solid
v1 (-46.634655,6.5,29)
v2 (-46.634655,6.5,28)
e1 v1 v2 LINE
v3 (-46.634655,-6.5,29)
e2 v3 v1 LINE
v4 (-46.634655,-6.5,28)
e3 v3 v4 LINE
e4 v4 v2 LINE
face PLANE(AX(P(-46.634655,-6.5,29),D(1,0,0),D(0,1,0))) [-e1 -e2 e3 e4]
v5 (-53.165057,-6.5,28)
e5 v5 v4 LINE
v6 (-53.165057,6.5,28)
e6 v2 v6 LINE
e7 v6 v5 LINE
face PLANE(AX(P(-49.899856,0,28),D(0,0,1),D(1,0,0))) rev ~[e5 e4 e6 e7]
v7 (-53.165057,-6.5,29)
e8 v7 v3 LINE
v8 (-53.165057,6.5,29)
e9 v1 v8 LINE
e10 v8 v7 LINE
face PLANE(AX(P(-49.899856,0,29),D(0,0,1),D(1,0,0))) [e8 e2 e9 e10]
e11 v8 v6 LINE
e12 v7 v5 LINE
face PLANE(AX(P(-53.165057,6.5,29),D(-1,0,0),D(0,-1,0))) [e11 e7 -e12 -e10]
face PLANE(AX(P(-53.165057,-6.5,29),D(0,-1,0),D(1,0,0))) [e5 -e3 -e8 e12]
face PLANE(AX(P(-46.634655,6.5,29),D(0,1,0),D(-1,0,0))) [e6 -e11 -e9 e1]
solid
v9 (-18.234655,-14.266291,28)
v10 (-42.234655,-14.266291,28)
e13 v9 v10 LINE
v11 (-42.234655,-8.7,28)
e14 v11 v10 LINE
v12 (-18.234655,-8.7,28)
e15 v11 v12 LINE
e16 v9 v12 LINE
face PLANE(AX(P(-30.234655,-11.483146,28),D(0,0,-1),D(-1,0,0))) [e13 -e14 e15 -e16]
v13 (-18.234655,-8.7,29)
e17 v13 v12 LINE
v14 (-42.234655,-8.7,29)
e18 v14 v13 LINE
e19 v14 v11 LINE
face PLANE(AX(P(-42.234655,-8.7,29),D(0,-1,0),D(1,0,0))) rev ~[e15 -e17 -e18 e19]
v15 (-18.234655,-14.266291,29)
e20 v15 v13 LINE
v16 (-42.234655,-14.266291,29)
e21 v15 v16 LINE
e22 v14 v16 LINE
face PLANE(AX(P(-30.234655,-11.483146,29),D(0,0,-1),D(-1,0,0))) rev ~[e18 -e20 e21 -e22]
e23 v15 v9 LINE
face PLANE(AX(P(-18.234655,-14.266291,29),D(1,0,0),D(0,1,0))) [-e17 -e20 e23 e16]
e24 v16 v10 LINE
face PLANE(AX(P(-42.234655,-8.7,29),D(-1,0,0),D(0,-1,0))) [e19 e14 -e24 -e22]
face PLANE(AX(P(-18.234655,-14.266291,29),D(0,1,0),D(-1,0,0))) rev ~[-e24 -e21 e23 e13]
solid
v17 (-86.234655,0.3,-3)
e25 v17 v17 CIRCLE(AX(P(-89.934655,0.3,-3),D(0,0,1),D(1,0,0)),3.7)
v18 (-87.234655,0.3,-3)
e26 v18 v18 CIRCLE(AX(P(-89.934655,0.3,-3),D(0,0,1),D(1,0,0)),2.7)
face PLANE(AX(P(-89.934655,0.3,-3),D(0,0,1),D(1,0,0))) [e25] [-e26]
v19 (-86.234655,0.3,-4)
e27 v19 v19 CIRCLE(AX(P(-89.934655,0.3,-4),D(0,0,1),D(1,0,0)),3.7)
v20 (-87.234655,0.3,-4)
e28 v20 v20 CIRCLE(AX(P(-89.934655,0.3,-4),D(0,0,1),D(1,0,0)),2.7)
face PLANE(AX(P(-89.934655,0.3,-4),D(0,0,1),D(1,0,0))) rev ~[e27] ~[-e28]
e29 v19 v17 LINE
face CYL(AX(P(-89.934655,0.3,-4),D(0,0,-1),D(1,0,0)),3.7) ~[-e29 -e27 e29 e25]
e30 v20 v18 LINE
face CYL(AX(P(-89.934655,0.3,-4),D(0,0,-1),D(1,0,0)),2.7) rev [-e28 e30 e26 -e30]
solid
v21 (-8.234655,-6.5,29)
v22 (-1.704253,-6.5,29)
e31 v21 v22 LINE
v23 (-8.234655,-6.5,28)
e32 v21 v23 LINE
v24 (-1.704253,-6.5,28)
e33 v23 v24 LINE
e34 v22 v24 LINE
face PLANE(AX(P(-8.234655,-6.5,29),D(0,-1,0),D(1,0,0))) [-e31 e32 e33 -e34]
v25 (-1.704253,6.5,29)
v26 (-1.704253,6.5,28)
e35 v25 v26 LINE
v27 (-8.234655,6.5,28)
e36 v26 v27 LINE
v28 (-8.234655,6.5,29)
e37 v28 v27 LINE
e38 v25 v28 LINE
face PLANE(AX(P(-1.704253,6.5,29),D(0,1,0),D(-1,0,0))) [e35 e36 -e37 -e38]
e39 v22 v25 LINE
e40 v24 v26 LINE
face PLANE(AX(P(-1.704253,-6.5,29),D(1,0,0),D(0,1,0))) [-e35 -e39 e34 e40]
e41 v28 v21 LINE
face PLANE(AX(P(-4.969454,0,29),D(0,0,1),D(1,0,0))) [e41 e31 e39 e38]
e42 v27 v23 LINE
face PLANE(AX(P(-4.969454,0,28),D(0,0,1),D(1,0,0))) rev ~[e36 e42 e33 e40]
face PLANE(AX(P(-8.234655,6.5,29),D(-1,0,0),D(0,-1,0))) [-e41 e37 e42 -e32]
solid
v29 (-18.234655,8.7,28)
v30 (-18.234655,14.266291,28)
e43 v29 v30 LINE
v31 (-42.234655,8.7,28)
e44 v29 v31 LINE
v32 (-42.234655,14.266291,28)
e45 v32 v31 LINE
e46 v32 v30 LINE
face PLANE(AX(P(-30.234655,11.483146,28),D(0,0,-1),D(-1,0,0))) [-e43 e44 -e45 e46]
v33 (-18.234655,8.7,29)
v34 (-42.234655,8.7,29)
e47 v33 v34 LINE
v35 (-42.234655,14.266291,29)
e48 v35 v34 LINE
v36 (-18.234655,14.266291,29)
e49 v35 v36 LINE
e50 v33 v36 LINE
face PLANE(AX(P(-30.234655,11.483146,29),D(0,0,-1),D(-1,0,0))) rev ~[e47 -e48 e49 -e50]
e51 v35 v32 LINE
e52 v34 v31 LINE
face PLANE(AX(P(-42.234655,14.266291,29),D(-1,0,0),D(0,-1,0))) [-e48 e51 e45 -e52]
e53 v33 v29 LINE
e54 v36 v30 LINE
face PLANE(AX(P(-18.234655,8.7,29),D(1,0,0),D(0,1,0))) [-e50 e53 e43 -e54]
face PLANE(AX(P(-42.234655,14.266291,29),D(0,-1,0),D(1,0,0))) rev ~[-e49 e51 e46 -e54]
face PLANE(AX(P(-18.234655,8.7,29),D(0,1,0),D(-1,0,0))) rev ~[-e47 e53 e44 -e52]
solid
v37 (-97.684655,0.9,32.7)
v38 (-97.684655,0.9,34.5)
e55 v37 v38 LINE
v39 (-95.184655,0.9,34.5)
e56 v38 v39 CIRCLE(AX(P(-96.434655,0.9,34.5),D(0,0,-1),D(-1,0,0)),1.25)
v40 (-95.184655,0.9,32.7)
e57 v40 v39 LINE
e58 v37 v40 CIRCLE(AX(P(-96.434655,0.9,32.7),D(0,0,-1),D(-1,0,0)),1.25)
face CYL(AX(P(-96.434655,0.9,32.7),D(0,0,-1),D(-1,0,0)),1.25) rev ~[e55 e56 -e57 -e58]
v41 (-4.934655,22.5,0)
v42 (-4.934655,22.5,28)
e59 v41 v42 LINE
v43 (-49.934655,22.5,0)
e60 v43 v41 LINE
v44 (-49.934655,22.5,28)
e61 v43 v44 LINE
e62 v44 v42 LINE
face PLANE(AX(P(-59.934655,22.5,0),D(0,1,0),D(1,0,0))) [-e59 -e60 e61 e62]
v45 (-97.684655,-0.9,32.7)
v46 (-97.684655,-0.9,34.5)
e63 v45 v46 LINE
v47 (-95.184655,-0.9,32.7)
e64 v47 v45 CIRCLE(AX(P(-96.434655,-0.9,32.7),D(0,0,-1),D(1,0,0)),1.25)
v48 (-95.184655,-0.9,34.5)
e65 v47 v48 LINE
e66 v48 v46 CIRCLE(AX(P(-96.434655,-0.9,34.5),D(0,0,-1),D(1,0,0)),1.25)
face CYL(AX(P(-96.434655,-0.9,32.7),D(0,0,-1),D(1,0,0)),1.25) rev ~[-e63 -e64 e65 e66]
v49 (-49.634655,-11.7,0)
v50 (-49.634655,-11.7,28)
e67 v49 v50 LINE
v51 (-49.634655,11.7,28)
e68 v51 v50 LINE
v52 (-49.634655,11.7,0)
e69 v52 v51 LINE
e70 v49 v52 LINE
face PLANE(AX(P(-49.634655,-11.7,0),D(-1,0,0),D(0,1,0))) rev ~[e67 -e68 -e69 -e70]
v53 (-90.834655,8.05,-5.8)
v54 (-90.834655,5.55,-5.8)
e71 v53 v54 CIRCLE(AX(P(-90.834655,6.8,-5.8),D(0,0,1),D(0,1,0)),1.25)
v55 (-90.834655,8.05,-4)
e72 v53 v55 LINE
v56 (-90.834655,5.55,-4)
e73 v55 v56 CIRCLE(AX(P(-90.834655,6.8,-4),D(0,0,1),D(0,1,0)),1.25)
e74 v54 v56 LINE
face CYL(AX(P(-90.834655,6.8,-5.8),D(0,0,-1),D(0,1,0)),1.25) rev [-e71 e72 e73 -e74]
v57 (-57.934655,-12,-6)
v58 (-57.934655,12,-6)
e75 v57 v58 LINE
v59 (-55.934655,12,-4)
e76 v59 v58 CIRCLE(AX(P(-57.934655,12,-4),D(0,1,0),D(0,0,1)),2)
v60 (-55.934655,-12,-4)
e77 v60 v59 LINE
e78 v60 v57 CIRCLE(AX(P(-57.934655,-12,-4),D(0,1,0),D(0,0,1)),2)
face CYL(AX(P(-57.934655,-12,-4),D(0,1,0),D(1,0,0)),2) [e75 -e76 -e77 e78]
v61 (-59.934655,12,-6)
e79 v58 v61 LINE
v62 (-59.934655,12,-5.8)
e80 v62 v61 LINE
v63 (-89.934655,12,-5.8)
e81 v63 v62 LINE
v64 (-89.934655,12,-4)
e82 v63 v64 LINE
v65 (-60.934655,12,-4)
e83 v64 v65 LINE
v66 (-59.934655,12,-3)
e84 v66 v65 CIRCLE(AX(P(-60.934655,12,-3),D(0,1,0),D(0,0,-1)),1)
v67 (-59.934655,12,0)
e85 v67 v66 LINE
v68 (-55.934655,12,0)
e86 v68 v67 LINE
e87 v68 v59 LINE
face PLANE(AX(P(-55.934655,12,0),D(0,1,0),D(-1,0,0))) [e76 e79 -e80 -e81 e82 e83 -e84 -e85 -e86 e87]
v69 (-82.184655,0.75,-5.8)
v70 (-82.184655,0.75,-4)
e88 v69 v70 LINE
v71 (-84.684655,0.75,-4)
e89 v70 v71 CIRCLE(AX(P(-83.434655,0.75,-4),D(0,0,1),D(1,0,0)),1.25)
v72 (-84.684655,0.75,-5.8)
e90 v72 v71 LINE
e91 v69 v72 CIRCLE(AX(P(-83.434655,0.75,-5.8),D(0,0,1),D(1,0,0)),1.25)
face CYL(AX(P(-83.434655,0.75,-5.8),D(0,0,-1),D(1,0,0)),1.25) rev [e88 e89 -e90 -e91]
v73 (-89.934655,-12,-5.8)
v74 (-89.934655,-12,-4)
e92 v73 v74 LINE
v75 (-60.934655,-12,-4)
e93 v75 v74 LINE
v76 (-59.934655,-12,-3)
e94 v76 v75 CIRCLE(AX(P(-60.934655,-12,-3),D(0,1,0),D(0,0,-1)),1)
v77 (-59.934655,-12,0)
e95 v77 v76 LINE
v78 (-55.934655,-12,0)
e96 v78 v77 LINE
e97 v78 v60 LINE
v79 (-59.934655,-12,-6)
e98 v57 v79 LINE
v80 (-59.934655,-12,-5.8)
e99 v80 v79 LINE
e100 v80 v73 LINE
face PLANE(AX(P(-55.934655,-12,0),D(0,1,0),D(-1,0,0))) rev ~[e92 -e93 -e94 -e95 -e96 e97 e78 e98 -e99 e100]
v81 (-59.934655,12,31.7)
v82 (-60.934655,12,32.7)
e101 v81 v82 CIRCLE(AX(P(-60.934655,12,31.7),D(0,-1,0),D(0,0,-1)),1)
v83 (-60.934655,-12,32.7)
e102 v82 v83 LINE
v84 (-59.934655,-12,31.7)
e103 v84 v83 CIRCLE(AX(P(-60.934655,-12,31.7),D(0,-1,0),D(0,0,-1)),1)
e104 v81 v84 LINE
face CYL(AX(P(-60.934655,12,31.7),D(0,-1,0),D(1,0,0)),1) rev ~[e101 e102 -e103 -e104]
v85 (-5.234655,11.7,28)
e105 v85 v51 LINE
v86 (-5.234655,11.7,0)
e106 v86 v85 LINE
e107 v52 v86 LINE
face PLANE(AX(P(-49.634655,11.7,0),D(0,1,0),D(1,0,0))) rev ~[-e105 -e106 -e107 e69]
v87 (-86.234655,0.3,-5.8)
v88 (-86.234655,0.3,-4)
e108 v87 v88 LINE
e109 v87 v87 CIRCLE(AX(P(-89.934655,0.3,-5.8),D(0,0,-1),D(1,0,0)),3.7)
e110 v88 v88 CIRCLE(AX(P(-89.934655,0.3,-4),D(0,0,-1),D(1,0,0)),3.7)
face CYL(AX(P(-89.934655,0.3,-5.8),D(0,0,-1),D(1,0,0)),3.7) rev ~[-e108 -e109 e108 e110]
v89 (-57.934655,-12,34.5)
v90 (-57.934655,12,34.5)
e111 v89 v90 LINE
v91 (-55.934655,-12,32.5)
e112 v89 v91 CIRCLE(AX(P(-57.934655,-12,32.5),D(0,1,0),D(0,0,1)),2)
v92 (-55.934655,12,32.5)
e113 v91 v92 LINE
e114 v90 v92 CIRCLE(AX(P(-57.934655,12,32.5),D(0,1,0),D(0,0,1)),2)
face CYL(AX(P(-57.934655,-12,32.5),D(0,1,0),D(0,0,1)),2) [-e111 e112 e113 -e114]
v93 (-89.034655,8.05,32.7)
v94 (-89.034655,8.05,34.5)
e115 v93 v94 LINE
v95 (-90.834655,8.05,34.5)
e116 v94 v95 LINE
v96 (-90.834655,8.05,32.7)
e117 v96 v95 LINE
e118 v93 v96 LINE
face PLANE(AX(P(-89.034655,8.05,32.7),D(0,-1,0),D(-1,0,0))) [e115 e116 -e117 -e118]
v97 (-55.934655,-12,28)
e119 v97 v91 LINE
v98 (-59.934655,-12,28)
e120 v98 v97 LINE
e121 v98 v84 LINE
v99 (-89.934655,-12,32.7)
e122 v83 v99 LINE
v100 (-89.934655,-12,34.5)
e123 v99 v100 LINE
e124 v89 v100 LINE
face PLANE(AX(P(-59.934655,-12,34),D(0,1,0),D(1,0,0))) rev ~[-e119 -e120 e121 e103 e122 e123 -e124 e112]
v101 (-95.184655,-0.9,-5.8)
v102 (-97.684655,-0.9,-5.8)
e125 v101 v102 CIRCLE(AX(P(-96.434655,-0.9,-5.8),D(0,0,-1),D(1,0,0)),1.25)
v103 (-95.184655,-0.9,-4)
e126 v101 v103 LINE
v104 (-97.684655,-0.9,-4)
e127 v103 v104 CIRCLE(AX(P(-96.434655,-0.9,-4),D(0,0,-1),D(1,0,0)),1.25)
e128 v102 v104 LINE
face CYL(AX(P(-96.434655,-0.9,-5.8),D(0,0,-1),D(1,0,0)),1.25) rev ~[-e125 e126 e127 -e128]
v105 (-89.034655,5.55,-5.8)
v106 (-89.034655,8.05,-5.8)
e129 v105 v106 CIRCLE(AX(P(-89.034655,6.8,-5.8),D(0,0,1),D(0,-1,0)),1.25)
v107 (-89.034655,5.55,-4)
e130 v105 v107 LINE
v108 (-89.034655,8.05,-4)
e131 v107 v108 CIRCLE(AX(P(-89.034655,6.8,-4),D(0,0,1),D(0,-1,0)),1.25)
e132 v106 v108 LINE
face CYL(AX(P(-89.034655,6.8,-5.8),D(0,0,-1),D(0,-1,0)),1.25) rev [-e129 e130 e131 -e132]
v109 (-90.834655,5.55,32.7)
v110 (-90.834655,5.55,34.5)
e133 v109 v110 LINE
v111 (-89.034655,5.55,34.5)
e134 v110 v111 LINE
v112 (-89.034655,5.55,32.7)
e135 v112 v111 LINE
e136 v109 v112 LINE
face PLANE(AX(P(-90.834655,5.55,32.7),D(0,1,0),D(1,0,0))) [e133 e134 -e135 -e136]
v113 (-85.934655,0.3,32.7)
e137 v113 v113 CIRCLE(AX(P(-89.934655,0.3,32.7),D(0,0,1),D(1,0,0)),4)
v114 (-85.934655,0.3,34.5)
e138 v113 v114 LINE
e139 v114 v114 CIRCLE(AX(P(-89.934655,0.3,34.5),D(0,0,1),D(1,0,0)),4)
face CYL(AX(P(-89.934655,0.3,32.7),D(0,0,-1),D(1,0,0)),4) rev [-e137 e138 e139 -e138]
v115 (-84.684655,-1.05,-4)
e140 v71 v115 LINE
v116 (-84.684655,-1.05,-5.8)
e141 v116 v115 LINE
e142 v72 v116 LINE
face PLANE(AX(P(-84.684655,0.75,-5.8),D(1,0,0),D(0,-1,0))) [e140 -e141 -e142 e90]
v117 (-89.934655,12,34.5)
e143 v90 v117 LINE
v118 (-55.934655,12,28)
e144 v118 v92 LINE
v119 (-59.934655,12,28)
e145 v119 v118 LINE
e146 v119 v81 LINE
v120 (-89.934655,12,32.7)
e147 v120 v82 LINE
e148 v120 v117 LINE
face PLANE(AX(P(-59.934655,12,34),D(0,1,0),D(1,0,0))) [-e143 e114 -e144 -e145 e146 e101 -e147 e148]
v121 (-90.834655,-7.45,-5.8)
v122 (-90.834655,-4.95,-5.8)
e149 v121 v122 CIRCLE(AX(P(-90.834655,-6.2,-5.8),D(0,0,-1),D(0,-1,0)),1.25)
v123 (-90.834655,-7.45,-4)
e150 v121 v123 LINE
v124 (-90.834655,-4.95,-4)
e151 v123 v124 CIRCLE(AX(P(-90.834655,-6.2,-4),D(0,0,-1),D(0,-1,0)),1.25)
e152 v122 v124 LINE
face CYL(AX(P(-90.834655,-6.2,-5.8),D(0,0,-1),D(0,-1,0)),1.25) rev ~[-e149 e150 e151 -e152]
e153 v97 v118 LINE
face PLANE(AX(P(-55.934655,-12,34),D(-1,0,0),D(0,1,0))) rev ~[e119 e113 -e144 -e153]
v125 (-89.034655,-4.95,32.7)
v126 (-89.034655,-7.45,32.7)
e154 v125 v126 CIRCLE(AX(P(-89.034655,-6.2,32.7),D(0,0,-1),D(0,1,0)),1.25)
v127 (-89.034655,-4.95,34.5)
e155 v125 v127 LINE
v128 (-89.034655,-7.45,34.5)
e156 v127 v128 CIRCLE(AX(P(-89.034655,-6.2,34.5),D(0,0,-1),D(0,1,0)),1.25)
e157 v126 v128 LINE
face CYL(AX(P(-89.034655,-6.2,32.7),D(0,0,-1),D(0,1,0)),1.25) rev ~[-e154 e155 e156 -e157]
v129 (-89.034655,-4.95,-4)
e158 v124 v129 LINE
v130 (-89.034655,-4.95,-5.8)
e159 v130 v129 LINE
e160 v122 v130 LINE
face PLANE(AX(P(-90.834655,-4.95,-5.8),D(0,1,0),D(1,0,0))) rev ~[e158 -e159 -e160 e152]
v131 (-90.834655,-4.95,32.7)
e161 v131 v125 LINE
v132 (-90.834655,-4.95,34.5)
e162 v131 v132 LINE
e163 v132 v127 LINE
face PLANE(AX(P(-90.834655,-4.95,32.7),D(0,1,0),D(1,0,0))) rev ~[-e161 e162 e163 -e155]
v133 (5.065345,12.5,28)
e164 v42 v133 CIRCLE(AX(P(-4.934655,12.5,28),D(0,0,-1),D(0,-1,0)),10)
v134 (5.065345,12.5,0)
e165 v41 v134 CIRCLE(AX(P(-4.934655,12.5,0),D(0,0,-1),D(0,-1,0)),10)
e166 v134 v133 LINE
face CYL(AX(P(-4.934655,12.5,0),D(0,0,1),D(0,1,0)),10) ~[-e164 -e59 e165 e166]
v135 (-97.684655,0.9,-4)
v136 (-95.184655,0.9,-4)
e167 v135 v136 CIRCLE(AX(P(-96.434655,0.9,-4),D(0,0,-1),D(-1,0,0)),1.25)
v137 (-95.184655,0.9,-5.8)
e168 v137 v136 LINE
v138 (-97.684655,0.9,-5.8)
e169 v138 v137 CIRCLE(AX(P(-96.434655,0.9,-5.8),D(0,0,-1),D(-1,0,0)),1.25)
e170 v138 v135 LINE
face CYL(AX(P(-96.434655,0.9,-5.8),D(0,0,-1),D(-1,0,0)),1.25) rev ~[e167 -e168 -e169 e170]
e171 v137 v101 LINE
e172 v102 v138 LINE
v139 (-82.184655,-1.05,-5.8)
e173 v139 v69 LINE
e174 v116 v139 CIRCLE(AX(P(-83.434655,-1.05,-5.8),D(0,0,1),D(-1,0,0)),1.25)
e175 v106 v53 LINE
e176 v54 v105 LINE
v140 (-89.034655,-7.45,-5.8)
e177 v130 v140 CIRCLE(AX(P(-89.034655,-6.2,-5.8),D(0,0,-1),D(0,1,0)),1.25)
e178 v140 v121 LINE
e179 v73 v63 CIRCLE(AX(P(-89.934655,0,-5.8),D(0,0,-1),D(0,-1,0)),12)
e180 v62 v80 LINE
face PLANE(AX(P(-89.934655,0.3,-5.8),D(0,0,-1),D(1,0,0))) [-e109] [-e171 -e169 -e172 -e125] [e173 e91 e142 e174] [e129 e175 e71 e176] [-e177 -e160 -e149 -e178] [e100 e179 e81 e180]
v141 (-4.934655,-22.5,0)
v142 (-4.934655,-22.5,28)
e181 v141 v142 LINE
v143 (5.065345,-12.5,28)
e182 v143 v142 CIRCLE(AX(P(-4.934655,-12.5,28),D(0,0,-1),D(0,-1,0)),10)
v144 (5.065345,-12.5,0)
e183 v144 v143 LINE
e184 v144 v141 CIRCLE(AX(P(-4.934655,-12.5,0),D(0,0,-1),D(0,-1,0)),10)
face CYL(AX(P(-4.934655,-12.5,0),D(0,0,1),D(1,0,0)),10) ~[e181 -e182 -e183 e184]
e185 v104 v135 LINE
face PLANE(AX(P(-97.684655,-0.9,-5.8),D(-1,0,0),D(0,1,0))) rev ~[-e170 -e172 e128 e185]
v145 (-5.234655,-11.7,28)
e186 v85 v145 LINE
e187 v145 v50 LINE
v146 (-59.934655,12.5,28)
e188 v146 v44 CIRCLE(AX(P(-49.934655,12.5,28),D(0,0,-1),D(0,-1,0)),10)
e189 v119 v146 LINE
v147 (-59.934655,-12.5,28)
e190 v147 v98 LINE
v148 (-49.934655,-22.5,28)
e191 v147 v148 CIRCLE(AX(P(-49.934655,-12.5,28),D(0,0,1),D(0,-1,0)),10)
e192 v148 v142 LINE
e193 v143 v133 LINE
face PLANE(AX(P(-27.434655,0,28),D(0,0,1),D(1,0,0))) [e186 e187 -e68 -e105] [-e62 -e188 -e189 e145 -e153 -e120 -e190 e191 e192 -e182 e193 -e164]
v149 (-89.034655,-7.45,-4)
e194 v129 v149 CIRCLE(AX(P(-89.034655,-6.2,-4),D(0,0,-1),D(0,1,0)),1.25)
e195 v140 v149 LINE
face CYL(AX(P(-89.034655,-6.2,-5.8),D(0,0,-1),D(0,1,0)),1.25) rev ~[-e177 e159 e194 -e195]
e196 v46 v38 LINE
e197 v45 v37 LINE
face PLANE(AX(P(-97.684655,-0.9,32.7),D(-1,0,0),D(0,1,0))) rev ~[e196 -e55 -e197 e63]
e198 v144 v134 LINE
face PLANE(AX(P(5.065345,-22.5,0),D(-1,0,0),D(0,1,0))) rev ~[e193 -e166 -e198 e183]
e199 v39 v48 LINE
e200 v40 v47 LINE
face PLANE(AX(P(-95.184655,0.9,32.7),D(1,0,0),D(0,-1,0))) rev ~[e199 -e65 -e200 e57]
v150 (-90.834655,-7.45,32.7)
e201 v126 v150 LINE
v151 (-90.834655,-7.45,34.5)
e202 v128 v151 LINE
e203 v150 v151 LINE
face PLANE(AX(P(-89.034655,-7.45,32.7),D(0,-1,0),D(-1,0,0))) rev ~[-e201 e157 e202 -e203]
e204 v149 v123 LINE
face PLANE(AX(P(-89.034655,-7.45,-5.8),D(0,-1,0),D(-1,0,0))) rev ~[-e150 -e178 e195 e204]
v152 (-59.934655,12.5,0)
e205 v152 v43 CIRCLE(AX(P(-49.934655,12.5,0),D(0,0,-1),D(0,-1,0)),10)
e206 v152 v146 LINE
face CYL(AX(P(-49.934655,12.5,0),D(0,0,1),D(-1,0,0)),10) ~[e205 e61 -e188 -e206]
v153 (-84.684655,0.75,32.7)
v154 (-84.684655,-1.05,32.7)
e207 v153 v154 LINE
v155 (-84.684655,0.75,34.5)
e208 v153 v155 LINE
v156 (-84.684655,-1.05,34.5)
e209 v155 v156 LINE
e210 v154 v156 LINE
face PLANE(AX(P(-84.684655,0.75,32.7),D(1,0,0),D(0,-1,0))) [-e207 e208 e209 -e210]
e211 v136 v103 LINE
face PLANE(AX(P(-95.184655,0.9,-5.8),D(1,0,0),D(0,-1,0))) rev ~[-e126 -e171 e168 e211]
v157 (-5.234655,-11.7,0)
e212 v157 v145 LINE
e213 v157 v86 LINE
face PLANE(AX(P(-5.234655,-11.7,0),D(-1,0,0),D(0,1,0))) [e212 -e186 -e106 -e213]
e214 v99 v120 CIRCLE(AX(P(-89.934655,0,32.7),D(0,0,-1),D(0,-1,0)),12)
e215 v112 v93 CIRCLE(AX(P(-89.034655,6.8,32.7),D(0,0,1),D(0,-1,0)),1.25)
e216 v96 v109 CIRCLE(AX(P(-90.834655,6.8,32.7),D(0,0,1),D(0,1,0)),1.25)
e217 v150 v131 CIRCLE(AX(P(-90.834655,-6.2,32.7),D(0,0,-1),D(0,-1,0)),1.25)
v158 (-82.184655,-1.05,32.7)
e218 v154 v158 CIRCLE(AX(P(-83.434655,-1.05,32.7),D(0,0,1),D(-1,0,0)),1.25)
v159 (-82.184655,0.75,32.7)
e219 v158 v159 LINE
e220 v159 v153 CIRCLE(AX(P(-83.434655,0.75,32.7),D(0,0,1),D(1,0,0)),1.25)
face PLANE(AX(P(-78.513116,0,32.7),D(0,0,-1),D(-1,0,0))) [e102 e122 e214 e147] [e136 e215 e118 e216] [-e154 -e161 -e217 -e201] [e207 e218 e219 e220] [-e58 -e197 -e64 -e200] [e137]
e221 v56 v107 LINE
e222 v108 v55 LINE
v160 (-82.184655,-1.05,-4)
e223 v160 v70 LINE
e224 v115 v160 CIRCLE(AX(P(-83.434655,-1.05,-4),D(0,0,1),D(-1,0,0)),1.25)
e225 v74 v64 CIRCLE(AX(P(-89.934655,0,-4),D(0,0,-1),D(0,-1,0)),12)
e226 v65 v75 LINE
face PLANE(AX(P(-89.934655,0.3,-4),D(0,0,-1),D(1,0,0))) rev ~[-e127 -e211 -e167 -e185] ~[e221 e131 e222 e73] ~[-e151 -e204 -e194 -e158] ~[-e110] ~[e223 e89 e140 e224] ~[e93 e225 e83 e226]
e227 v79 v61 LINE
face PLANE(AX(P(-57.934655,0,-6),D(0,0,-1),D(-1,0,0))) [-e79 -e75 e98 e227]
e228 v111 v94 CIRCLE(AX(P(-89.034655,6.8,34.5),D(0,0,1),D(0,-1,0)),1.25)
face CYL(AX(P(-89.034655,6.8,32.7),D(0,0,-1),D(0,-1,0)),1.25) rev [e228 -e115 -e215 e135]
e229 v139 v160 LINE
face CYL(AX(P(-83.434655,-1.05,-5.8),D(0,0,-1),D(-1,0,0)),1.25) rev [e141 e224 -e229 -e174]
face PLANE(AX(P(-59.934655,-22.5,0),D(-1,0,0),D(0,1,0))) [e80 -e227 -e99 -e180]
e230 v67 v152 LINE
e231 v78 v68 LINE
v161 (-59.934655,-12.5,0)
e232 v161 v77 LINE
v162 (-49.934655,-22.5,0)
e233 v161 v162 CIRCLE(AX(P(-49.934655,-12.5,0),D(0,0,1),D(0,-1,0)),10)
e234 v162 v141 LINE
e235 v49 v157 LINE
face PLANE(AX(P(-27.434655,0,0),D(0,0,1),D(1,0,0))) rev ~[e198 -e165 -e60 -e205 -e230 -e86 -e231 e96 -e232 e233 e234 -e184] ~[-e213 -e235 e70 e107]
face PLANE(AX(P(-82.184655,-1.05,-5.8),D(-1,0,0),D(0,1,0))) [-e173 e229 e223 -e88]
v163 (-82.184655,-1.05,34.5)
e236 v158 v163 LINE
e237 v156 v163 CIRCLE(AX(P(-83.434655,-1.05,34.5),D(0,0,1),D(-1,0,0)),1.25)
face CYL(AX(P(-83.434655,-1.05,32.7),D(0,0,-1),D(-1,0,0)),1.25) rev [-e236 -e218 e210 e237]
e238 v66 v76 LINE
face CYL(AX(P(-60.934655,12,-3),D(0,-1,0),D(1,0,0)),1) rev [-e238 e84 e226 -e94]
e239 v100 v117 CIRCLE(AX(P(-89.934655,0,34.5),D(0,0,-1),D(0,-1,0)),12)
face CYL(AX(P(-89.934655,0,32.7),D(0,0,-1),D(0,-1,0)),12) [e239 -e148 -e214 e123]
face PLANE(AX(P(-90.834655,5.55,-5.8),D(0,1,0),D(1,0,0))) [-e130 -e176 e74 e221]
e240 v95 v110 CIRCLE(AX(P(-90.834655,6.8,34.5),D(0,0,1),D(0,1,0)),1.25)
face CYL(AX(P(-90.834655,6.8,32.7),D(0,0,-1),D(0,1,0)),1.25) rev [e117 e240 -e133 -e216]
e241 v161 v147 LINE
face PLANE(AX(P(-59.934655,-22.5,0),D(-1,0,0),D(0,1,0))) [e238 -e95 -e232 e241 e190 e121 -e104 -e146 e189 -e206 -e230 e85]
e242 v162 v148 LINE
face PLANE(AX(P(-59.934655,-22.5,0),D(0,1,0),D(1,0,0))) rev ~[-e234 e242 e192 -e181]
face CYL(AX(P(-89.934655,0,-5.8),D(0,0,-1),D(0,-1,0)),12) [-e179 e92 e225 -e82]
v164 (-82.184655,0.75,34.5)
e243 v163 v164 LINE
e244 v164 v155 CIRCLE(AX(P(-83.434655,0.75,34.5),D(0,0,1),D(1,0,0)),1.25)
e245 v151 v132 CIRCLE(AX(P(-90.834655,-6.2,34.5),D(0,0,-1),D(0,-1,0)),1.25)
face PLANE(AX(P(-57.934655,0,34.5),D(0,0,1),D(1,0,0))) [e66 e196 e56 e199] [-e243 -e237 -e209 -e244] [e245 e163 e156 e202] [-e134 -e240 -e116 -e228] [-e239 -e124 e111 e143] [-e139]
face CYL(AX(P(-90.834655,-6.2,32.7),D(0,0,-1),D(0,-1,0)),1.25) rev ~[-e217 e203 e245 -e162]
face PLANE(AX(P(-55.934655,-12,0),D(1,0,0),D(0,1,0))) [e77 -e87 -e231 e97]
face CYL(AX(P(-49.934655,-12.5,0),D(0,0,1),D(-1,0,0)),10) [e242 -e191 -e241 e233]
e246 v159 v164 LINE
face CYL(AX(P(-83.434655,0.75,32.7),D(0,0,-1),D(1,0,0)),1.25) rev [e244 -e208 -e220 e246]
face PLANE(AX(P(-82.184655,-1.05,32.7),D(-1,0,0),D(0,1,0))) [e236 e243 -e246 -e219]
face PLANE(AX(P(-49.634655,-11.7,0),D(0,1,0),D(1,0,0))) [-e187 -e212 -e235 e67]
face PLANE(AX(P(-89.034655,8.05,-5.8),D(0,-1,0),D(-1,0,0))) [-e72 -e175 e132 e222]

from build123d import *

# Parameters (mm, degrees)
SKETCH_1_W             = 65
SKETCH_1_H             = 45
EXTRUDE_1_DEPTH        = 28
SKETCH_2_W             = 44.4
SKETCH_2_H             = 23.4
CUT_EXTRUDE_1_DEPTH    = 39
SKETCH_3_W             = 4
SKETCH_3_H             = 24
EXTRUDE_2_DEPTH        = 6
EXTRUDE_START          = -0.3
SKETCH_7_R             = 4
EXTRUDE_3_DEPTH        = 1.8
SKETCH_8_W             = 4
SKETCH_8_H             = 24
EXTRUDE_4_DEPTH        = 6
FILLET_1_R             = 10
FILLET_2_R             = 10
FILLET_3_R             = 10
FILLET_4_R             = 10
PATTERN_LINEAR_2_COUNT = 2
PATTERN_LINEAR_2_PITCH = 38.5
FILLET_5_R             = 2
SKETCH_9_R             = 3.7
SKETCH_9_R_2           = 2.7
EXTRUDE_5_DEPTH        = 1
EXTRUDE_6_DEPTH        = 1
EXTRUDE_6_2_DEPTH      = 1
EXTRUDE_6_3_DEPTH      = 1
EXTRUDE_6_4_DEPTH      = 1
EXTRUDE_START_2        = 1.8
SKETCH_12_R            = 4
SKETCH_12_R_2          = 3.7
EXTRUDE_8_DEPTH        = 1.8
SKETCH_15_W            = 4
SKETCH_15_H            = 24
EXTRUDE_10_DEPTH       = 0.5
FILLET_16_R            = 2
FILLET_17_R            = 1
FILLET_18_R            = 1


with BuildPart() as part:
    # 草圖1 → 填料-伸長1 (new body)
    with BuildSketch(Plane.XY):
        with Locations((-27.434655272, 0)):
            Rectangle(SKETCH_1_W, SKETCH_1_H)
    extrude(amount=EXTRUDE_1_DEPTH)

    # 草圖2 → 除料-伸長1 (cut)
    with BuildSketch(Plane.XY):
        with Locations((-27.434655272, 0)):
            Rectangle(SKETCH_2_W, SKETCH_2_H)
    extrude(amount=CUT_EXTRUDE_1_DEPTH, mode=Mode.SUBTRACT)

    # 草圖3 → 填料-伸長2 (add)
    with BuildSketch(Plane.XY.offset(28)):
        with Locations((-57.934655272, 0)):
            Rectangle(SKETCH_3_W, SKETCH_3_H)
    extrude(amount=EXTRUDE_2_DEPTH)

    # 草圖7 → 填料-伸長3 (add)
    with BuildSketch(Plane.XY.offset(33).offset(EXTRUDE_START)):
        with BuildLine():
            Line((-59.934655272, 12), (-59.934655272, -12))
            Line((-59.934655272, -12), (-89.934655272, -12))
            ThreePointArc((-89.934655272, -12), (-101.934655272, 0), (-89.934655272, 12))
            Line((-89.934655272, 12), (-59.934655272, 12))
        make_face()
        with Locations((-89.934655272, 0.3)):
            Circle(SKETCH_7_R, mode=Mode.SUBTRACT)
        with BuildLine():
            Line((-95.184655272, 0.9), (-95.184655272, -0.9))
            ThreePointArc((-95.184655272, -0.9), (-96.434655272, -2.15), (-97.684655272, -0.9))
            Line((-97.684655272, -0.9), (-97.684655272, 0.9))
            ThreePointArc((-97.684655272, 0.9), (-96.434655272, 2.15), (-95.184655272, 0.9))
        make_face(mode=Mode.SUBTRACT)
        with BuildLine():
            Line((-90.834655272, -4.95), (-89.034655272, -4.95))
            ThreePointArc((-89.034655272, -4.95), (-87.784655272, -6.2), (-89.034655272, -7.45))
            Line((-89.034655272, -7.45), (-90.834655272, -7.45))
            ThreePointArc((-90.834655272, -7.45), (-92.084655272, -6.2), (-90.834655272, -4.95))
        make_face(mode=Mode.SUBTRACT)
        with BuildLine():
            Line((-90.834655272, 5.55), (-89.034655272, 5.55))
            ThreePointArc((-89.034655272, 5.55), (-87.784655272, 6.8), (-89.034655272, 8.05))
            Line((-89.034655272, 8.05), (-90.834655272, 8.05))
            ThreePointArc((-90.834655272, 8.05), (-92.084655272, 6.8), (-90.834655272, 5.55))
        make_face(mode=Mode.SUBTRACT)
        with BuildLine():
            Line((-84.684655272, 0.75), (-84.684655272, -1.05))
            ThreePointArc((-84.684655272, -1.05), (-83.434655272, -2.3), (-82.184655272, -1.05))
            Line((-82.184655272, -1.05), (-82.184655272, 0.75))
            ThreePointArc((-82.184655272, 0.75), (-83.434655272, 2), (-84.684655272, 0.75))
        make_face(mode=Mode.SUBTRACT)
    extrude_3 = extrude(amount=EXTRUDE_3_DEPTH)

    # 草圖8 → 填料-伸長4 (add)
    with BuildSketch(Plane(origin=(0, 0, 0), x_dir=(-1, 0, 0), z_dir=(0, 0, -1))):
        with Locations((57.934655272, 0)):
            Rectangle(SKETCH_8_W, SKETCH_8_H)
    extrude(amount=EXTRUDE_4_DEPTH)

    # 圓角1
    fillet_1_edges = [part.edges().sort_by_distance(p)[0] for p in [
        (-59.934655272, -22.5, 14),
    ]]
    fillet(fillet_1_edges, radius=FILLET_1_R)

    # 圓角2
    fillet_2_edges = [part.edges().sort_by_distance(p)[0] for p in [
        (-59.934655272, 22.5, 14),
    ]]
    fillet(fillet_2_edges, radius=FILLET_2_R)

    # 圓角3
    fillet_3_edges = [part.edges().sort_by_distance(p)[0] for p in [
        (5.065344728, 22.5, 14),
    ]]
    fillet(fillet_3_edges, radius=FILLET_3_R)

    # 圓角4
    fillet_4_edges = [part.edges().sort_by_distance(p)[0] for p in [
        (5.065344728, -22.5, 14),
    ]]
    fillet(fillet_4_edges, radius=FILLET_4_R)

    # 直線複製排列2: 填料-伸長3 ×2
    with Locations(*[(0, 0, -i * PATTERN_LINEAR_2_PITCH) for i in range(1, PATTERN_LINEAR_2_COUNT)]):
        add(extrude_3)

    # 圓角5
    fillet_5_edges = [part.edges().sort_by_distance(p)[0] for p in [
        (-55.934655272, 0, -6),
    ]]
    fillet(fillet_5_edges, radius=FILLET_5_R)

    # 草圖12 → 填料-伸長8 (add)
    with BuildSketch(Plane(origin=(0, 0, -4), x_dir=(-1, 0, 0), z_dir=(0, 0, -1)).offset(EXTRUDE_START_2)):
        with Locations(Location((89.934655272, 0.3, 0), (0, 0, 180))):
            Circle(SKETCH_12_R)
        with Locations(Location((89.934655272, 0.3, 0), (0, 0, 180))):
            Circle(SKETCH_12_R_2, mode=Mode.SUBTRACT)
    extrude(amount=-EXTRUDE_8_DEPTH)

    # 草圖15 → 填料-伸長10 (add)
    with BuildSketch(Plane.XY.offset(34)):
        with Locations((-57.934655272, 0)):
            Rectangle(SKETCH_15_W, SKETCH_15_H)
    extrude(amount=EXTRUDE_10_DEPTH)

    # 圓角16
    fillet_16_edges = [part.edges().sort_by_distance(p)[0] for p in [
        (-55.934655272, 0, 34.5),
    ]]
    fillet(fillet_16_edges, radius=FILLET_16_R)

    # 圓角17
    fillet_17_edges = [part.edges().sort_by_distance(p)[0] for p in [
        (-59.934655272, 0, 32.7),
    ]]
    fillet(fillet_17_edges, radius=FILLET_17_R)

    # 圓角18
    fillet_18_edges = [part.edges().sort_by_distance(p)[0] for p in [
        (-59.934655272, 0, -4),
    ]]
    fillet(fillet_18_edges, radius=FILLET_18_R)


with BuildPart() as body_2:
    # 草圖9 → 填料-伸長5 (new body)
    with BuildSketch(Plane.XY.offset(-4)):
        with Locations((-89.934655272, 0.3)):
            Circle(SKETCH_9_R)
        with Locations((-89.934655272, 0.3)):
            Circle(SKETCH_9_R_2, mode=Mode.SUBTRACT)
    extrude(amount=EXTRUDE_5_DEPTH)


with BuildPart() as body_3:
    # 草圖10 → 填料-伸長6 (new body)
    with BuildSketch(Plane.XY.offset(29)):
        Polygon((-42.234655272, 11.7), (-42.234655272, 14.266291238), (-18.234655272, 14.266291238), (-18.234655272, 11.7), (-18.234655272, 8.7), (-42.234655272, 8.7), align=None)
    extrude(amount=-EXTRUDE_6_DEPTH)


with BuildPart() as body_4:
    # 草圖10 → Extrude 6 2 (new body)
    with BuildSketch(Plane.XY.offset(29)):
        Polygon((-49.634655272, 6.5), (-53.165057103, 6.5), (-53.165057103, -6.5), (-49.634655272, -6.5), (-46.634655272, -6.5), (-46.634655272, 6.5), align=None)
    extrude(amount=-EXTRUDE_6_2_DEPTH)


with BuildPart() as body_5:
    # 草圖10 → Extrude 6 3 (new body)
    with BuildSketch(Plane.XY.offset(29)):
        Polygon((-42.234655272, -11.7), (-42.234655272, -8.7), (-18.234655272, -8.7), (-18.234655272, -11.7), (-18.234655272, -14.266291238), (-42.234655272, -14.266291238), align=None)
    extrude(amount=-EXTRUDE_6_3_DEPTH)


with BuildPart() as body_6:
    # 草圖10 → Extrude 6 4 (new body)
    with BuildSketch(Plane.XY.offset(29)):
        Polygon((-5.234655272, 6.5), (-8.234655272, 6.5), (-8.234655272, -6.5), (-5.234655272, -6.5), (-1.70425344, -6.5), (-1.70425344, 6.5), align=None)
    extrude(amount=-EXTRUDE_6_4_DEPTH)


solid = Compound([part.part, body_2.part, body_3.part, body_4.part, body_5.part, body_6.part])
